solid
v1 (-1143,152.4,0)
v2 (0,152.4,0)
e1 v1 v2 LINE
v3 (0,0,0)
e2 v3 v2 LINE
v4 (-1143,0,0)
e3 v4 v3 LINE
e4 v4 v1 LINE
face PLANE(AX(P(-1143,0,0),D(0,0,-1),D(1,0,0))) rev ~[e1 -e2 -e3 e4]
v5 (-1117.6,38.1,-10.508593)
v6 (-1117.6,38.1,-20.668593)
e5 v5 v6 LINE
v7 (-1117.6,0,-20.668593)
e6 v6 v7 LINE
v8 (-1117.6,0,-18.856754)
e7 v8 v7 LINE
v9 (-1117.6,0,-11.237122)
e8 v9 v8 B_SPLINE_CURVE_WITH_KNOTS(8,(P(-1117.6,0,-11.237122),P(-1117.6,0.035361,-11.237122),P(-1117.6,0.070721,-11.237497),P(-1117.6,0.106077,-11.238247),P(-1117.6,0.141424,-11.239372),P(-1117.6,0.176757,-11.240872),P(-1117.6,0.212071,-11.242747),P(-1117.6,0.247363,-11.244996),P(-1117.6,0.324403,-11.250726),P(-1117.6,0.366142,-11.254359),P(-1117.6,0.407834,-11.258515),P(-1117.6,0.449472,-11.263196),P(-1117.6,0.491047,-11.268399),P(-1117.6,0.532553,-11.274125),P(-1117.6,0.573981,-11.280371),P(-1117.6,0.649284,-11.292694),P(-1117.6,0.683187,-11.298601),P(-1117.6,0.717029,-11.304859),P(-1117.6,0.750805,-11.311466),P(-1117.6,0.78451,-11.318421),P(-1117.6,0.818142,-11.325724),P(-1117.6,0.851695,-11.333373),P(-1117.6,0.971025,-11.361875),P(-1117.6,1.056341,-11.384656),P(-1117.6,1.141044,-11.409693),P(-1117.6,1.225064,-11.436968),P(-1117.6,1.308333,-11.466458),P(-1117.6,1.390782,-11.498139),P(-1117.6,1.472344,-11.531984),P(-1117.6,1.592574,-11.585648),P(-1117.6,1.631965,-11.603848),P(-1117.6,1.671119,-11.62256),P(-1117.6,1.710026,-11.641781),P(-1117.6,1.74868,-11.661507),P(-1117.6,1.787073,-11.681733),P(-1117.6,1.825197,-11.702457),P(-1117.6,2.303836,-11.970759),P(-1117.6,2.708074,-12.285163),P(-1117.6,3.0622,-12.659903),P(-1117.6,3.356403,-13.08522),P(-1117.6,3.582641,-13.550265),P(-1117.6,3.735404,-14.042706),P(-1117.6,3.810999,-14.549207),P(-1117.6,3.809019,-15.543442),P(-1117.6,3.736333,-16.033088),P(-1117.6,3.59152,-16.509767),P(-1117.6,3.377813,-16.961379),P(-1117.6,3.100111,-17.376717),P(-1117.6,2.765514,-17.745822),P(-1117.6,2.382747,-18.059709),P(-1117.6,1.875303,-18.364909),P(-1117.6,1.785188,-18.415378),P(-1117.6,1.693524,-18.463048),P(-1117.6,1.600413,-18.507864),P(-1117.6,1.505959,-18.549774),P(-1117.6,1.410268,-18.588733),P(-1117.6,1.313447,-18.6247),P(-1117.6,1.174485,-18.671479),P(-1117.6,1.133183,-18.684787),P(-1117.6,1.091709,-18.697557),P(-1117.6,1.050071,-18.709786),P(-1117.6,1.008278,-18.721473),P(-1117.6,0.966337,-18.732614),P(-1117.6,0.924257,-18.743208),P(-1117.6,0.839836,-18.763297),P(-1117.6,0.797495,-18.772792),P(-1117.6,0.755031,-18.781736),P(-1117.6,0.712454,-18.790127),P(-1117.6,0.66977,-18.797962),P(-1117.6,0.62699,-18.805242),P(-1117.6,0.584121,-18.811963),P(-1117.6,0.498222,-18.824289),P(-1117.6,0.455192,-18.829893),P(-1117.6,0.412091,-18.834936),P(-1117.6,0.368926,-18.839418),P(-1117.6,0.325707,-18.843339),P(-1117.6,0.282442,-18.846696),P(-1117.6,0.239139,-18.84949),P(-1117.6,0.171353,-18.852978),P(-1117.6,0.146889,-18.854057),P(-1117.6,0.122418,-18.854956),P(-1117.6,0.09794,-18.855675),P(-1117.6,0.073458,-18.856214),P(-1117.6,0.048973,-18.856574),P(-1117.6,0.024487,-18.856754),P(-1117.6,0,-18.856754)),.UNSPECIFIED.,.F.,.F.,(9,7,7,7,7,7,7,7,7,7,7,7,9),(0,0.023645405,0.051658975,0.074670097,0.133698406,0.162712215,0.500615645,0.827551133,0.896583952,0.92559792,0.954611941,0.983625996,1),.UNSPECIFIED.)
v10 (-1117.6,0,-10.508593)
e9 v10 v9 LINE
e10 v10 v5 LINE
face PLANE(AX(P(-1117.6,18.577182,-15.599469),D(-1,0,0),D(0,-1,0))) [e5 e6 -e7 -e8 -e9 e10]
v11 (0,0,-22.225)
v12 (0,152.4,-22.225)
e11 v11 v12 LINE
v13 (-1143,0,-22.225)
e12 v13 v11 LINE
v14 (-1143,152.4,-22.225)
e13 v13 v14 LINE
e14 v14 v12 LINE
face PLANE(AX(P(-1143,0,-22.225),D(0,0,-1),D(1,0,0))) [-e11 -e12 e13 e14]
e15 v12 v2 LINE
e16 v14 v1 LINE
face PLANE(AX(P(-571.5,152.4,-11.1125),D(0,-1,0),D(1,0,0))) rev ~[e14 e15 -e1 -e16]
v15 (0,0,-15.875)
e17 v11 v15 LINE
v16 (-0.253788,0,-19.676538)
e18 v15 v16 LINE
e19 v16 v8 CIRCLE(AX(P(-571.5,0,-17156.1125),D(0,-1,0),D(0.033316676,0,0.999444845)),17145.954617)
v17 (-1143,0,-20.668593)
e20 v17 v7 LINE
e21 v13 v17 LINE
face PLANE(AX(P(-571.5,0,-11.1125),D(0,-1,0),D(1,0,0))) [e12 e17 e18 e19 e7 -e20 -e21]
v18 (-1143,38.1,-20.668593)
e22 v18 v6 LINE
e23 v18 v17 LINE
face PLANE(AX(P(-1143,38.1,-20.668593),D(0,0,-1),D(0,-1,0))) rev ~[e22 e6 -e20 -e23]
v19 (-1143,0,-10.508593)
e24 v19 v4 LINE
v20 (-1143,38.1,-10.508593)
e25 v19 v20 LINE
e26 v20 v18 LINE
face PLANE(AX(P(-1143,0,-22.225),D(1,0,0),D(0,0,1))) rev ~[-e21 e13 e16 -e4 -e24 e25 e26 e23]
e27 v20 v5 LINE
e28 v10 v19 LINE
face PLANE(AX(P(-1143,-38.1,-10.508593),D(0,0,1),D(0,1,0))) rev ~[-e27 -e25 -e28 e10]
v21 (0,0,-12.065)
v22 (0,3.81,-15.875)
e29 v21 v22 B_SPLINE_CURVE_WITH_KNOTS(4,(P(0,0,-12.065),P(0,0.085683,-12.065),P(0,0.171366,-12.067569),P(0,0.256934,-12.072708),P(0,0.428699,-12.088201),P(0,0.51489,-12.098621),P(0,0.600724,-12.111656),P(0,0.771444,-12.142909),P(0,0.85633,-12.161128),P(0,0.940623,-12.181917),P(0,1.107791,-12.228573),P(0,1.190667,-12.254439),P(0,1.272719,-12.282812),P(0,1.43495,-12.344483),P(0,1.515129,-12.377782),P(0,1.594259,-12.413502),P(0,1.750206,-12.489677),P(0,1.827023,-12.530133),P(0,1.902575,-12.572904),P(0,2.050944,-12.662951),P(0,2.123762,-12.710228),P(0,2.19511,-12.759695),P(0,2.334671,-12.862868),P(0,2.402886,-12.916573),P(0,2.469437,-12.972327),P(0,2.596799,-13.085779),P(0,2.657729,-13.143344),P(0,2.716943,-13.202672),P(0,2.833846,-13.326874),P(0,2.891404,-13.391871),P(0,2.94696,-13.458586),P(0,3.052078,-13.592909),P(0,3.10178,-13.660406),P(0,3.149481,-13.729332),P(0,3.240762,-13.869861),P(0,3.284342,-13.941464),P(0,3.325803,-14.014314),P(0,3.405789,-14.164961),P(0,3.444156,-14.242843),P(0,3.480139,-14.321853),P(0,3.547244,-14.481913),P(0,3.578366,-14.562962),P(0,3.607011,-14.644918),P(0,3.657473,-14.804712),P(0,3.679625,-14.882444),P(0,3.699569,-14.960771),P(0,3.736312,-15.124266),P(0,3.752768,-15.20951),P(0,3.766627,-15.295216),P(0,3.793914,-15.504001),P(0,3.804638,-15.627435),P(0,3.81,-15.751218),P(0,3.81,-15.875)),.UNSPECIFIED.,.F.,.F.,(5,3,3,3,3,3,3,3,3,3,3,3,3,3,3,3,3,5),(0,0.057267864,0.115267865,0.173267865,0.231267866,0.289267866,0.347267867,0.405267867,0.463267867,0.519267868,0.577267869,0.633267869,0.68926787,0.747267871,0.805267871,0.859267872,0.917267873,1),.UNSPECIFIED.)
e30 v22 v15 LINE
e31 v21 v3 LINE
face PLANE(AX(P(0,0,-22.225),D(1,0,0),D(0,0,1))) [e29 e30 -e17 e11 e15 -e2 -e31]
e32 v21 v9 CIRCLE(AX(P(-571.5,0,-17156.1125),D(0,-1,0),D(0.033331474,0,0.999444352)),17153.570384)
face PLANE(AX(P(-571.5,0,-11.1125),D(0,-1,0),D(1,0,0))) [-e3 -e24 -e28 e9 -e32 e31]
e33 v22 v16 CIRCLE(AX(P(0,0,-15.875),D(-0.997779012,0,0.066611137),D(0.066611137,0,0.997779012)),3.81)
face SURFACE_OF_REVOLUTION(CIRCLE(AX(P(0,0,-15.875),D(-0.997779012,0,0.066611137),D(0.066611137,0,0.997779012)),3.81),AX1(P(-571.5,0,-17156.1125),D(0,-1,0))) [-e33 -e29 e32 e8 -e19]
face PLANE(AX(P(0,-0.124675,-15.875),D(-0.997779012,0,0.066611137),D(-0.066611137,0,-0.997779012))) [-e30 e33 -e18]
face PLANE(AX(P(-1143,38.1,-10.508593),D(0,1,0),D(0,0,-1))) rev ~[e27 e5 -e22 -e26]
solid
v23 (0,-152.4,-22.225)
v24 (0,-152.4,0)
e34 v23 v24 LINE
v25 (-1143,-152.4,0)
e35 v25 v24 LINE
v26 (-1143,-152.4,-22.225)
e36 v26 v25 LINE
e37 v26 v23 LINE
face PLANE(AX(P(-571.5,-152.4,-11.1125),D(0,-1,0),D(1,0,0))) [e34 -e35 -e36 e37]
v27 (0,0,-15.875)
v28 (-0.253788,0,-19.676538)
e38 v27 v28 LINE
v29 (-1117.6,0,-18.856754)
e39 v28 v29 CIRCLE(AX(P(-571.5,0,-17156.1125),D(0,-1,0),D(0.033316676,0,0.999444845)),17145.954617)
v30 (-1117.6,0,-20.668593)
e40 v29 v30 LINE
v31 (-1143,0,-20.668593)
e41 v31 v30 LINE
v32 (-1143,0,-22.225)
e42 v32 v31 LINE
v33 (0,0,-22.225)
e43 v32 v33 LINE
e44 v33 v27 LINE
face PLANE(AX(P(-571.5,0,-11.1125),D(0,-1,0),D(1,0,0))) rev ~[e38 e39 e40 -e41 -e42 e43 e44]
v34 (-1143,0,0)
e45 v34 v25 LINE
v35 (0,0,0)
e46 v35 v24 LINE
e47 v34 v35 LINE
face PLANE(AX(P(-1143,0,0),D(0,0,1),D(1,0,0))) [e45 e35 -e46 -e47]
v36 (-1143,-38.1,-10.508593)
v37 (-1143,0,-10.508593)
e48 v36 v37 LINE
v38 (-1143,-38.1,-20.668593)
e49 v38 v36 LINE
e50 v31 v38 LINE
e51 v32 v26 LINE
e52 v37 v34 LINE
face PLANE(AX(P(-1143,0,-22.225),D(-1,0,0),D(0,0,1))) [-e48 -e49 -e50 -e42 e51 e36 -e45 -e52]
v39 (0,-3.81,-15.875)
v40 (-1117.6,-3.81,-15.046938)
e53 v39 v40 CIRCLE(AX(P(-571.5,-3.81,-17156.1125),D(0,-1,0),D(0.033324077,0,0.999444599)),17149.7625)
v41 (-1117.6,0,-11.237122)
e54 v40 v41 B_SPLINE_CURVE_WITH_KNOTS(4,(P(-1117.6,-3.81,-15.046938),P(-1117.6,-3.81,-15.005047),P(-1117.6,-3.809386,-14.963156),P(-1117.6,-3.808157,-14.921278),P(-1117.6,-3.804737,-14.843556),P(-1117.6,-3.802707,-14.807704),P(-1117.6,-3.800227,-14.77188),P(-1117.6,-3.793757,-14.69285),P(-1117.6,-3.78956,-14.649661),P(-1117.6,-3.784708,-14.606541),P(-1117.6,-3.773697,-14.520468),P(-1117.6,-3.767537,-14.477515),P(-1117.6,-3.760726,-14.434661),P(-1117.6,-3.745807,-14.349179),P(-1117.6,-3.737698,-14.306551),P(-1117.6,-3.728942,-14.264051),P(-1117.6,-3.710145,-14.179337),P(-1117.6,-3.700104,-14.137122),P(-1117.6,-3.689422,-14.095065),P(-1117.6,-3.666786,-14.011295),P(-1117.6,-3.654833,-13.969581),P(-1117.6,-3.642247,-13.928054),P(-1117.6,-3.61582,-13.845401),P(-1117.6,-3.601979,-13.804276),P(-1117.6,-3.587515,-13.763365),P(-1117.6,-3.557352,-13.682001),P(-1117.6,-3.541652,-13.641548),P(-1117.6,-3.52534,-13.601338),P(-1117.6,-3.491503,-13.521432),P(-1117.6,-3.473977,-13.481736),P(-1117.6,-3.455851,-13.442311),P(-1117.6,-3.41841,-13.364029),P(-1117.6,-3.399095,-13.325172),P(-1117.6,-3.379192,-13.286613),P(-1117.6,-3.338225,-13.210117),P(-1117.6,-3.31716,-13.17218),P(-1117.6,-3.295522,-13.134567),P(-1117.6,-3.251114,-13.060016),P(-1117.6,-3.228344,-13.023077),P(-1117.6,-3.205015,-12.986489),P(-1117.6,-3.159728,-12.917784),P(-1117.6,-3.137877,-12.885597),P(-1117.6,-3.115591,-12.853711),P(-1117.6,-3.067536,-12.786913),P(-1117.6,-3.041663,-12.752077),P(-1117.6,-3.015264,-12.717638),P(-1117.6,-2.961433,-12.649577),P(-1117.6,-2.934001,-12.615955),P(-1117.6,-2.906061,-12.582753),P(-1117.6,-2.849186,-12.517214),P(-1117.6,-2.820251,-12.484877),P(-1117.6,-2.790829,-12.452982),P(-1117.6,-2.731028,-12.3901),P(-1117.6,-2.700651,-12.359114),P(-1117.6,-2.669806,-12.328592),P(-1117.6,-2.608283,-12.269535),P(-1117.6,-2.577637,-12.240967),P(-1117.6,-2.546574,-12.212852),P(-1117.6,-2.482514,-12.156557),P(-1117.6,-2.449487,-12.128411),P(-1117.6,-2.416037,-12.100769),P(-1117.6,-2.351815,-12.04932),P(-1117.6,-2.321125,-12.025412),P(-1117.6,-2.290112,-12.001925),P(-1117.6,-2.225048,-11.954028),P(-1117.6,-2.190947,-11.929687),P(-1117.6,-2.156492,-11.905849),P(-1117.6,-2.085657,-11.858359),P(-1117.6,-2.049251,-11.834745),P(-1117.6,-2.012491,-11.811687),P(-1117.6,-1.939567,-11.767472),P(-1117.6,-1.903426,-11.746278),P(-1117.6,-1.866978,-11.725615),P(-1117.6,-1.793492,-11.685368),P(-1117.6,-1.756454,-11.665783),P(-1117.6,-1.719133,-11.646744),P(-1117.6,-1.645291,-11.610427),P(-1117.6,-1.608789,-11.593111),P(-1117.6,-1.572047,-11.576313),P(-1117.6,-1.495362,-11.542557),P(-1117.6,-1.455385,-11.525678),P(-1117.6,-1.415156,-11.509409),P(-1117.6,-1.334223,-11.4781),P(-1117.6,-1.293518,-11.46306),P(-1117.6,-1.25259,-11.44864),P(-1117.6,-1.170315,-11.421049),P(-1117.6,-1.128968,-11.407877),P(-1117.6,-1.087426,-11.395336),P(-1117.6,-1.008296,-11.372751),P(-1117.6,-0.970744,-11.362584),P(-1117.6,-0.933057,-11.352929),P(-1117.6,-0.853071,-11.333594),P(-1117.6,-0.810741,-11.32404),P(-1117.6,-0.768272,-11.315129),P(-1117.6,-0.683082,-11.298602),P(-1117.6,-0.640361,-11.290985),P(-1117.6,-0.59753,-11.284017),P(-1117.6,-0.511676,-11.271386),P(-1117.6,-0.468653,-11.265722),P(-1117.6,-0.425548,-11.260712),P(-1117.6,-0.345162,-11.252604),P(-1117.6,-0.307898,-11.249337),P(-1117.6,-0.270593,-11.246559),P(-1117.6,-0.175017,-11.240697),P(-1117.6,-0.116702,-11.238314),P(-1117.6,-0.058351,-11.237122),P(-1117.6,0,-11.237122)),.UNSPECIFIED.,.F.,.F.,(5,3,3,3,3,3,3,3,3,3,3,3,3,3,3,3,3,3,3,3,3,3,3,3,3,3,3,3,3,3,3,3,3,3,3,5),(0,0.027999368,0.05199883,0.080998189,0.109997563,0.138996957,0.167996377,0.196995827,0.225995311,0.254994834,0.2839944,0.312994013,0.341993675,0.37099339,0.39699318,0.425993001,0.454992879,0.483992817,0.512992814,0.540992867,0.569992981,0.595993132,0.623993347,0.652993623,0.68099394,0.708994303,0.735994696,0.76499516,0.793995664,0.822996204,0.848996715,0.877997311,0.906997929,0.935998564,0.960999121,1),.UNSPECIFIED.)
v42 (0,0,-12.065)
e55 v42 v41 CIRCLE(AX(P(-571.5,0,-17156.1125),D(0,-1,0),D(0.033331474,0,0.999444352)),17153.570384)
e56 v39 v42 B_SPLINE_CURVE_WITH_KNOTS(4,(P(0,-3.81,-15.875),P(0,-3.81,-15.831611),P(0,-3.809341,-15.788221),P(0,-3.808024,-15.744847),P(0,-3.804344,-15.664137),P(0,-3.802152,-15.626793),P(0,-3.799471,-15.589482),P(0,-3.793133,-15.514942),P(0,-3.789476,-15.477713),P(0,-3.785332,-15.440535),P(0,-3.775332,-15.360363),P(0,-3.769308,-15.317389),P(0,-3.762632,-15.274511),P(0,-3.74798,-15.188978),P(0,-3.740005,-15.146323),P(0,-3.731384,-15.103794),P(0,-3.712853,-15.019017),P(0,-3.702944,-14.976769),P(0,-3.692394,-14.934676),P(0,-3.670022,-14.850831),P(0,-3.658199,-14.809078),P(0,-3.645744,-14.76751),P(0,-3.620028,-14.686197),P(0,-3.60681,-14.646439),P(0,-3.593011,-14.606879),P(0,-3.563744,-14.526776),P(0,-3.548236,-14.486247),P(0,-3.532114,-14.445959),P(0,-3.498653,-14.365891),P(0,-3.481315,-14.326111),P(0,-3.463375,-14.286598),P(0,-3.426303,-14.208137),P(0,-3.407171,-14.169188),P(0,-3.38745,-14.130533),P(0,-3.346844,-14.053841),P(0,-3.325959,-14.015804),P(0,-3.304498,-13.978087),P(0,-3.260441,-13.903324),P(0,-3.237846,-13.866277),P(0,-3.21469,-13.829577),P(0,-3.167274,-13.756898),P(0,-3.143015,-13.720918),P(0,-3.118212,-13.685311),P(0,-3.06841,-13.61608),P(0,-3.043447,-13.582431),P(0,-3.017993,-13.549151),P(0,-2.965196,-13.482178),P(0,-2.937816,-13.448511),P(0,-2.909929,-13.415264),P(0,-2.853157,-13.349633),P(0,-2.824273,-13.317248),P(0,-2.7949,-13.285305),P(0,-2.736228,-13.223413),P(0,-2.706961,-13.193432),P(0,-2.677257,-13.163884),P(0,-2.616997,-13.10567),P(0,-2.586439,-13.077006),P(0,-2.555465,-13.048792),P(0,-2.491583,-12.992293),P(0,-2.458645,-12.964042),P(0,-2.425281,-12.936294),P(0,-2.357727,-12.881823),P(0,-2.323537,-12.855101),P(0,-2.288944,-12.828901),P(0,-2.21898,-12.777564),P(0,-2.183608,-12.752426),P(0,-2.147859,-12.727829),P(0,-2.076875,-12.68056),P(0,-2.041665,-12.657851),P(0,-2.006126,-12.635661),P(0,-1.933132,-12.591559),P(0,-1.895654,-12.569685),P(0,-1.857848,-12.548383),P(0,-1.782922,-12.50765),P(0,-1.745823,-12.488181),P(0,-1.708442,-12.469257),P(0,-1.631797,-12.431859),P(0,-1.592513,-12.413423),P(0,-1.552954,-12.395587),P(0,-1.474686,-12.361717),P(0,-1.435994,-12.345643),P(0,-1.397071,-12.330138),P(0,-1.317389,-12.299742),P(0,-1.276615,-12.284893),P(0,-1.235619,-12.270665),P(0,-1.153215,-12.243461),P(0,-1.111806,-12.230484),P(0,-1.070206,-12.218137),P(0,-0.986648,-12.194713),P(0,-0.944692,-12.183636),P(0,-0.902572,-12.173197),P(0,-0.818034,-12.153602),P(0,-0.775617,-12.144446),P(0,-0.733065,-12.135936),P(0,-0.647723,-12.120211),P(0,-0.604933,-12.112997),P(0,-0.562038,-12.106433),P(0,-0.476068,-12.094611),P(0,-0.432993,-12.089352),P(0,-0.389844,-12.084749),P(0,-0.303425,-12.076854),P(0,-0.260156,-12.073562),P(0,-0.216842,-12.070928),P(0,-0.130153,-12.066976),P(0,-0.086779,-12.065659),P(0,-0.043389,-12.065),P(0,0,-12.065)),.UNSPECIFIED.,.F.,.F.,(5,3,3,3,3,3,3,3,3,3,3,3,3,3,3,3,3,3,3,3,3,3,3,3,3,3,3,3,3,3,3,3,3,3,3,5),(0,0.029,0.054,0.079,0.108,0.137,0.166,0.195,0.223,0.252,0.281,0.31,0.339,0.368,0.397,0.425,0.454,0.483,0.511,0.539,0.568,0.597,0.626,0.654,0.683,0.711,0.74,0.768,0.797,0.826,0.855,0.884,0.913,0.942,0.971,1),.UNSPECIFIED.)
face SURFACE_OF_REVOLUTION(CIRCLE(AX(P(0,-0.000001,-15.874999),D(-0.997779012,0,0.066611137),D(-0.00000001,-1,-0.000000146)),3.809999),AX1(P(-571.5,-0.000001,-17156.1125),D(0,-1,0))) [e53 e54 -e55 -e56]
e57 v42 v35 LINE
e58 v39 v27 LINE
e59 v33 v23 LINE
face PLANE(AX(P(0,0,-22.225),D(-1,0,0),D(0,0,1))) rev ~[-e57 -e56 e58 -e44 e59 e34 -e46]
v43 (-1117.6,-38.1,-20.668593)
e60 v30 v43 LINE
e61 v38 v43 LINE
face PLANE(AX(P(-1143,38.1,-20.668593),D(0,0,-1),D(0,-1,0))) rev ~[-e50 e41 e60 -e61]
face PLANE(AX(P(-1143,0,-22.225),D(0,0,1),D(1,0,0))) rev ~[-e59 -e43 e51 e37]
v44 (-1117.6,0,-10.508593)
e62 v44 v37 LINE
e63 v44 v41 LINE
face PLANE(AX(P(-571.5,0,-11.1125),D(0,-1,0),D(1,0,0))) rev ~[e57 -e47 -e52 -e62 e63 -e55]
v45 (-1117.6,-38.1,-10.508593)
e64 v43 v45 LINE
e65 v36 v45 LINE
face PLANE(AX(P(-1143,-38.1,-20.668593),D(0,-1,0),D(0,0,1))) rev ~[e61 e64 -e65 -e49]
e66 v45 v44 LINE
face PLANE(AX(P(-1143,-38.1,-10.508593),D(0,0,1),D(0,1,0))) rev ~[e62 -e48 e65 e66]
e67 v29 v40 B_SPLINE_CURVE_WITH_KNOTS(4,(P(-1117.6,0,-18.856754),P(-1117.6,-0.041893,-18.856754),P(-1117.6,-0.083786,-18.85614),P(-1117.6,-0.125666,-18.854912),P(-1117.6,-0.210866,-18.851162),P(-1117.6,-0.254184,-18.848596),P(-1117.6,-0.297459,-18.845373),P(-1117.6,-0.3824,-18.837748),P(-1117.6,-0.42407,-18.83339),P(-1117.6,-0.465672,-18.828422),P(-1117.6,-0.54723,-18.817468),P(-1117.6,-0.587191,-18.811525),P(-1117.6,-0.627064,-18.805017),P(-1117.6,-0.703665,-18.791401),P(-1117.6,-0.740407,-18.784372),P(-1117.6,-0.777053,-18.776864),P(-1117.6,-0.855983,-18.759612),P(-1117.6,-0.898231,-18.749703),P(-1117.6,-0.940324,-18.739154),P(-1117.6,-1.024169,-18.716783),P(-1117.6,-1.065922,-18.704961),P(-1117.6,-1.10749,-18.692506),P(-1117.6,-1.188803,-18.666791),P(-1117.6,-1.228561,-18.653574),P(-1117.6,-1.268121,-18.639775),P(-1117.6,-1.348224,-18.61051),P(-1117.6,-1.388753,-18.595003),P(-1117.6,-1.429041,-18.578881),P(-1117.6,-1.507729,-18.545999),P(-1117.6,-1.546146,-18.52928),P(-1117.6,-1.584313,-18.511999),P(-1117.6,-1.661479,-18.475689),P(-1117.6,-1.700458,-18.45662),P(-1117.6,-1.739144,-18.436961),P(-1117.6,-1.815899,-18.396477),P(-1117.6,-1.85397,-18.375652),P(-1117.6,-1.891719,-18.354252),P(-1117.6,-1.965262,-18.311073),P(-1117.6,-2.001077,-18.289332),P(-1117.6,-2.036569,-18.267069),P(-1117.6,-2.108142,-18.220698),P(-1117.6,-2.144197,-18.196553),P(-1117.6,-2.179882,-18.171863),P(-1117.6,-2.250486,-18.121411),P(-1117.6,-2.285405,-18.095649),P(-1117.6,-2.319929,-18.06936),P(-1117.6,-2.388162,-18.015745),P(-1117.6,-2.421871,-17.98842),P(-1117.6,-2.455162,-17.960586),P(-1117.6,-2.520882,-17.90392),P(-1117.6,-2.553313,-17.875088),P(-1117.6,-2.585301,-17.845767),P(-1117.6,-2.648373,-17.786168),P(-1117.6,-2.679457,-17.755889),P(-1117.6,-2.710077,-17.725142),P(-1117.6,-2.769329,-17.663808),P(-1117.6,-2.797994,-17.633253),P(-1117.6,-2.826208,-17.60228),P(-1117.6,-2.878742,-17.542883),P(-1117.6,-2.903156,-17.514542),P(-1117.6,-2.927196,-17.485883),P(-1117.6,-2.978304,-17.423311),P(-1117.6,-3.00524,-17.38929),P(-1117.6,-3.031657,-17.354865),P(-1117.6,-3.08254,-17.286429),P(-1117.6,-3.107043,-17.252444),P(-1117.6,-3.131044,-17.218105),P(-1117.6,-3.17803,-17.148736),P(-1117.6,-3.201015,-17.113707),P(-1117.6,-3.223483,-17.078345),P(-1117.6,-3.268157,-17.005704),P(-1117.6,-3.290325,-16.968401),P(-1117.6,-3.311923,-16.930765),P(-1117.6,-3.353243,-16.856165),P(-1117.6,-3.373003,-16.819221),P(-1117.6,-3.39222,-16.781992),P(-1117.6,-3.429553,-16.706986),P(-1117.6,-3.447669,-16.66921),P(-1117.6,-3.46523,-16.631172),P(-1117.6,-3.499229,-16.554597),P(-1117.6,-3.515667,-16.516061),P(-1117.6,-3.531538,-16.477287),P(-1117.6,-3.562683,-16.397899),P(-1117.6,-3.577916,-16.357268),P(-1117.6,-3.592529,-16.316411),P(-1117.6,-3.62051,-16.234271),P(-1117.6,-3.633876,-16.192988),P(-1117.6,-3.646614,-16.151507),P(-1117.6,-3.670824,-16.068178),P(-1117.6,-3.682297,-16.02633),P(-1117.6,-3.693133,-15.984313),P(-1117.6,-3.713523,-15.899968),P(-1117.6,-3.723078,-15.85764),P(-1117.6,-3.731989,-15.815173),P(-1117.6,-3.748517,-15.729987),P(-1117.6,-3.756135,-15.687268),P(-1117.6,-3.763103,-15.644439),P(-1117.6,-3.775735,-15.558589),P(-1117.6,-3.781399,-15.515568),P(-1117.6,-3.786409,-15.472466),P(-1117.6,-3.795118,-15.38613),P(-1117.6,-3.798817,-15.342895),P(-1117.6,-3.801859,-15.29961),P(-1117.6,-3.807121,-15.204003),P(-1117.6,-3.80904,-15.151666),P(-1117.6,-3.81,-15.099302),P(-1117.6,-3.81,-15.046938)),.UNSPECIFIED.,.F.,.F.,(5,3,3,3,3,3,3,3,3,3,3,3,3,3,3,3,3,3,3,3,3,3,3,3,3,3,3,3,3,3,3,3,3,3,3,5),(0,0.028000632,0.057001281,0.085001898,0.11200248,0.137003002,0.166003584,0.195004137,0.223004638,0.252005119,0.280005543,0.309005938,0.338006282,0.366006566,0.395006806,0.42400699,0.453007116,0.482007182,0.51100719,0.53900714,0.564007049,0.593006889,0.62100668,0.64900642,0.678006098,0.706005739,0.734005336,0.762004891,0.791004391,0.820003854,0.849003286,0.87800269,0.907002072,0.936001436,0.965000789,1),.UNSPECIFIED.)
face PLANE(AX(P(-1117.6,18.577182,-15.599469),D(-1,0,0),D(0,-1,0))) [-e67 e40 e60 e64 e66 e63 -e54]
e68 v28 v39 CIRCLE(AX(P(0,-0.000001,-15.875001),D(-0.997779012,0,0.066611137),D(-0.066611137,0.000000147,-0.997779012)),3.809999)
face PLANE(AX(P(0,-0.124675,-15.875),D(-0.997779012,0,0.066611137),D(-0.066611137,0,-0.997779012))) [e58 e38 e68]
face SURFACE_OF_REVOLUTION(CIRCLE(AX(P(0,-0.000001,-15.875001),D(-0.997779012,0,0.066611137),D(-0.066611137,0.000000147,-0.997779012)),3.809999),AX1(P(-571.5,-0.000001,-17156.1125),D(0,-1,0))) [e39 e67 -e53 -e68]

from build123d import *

# Parameters (mm, degrees)
F0_W      = 1143
F0_H      = 22.225
F1_DEPTH  = 152.4
F1_FACE_W = 1143
F1_FACE_H = 22.225
F2_DEPTH  = 152.4
F6_DEPTH  = 25.4


with BuildPart() as f1:
    # F0 (on Front) → F1 (new body)
    with BuildSketch(Plane.XZ):
        with Locations((-571.5, -11.1125)):
            Rectangle(F0_W, F0_H)
    extrude(amount=-F1_DEPTH)


with BuildPart() as f2:
    # F1_face (on face) → F2 (new body)
    with BuildSketch(Plane(origin=(-571.5, 0, -11.1125), x_dir=(1, 0, 0), z_dir=(0, -1, 0))):
        Rectangle(F1_FACE_W, F1_FACE_H)
    extrude(amount=F2_DEPTH)


with BuildPart() as f5_tool:
    # F5: sweep along a path in F3
    with BuildLine(Plane.XZ) as f5_path:
        ThreePointArc((0, -15.875), (-571.5, -6.35), (-1143, -15.875))
    # F4 (on face) → F5 (sweep)
    with BuildSketch(Plane(origin=(-1143, 0, 0), x_dir=(0, -1, 0), z_dir=(-1, 0, 0))):
        with BuildLine():
            Line((0, -19.685), (0, -12.065))
            ThreePointArc((0, -12.065), (-3.81, -15.875), (0, -19.685))
        make_face()
        with BuildLine():
            ThreePointArc((0, -19.685), (2.694077, -18.569077), (3.81, -15.875))
            ThreePointArc((3.81, -15.875), (2.694077, -13.180923), (0, -12.065))
            Line((0, -12.065), (0, -19.685))
        make_face()
    sweep(path=f5_path.line)


with BuildPart() as f1_1:
    add(f1.part)

    # F5: cut by f5_tool
    add(f5_tool.part, mode=Mode.SUBTRACT)


with BuildPart() as f2_1:
    add(f2.part)

    # F5: cut by f5_tool
    add(f5_tool.part, mode=Mode.SUBTRACT)


with BuildPart() as f6_tool:
    # F4 (on face) → F6 (new body)
    with BuildSketch(Plane(origin=(-1143, 0, 0), x_dir=(0, -1, 0), z_dir=(-1, 0, 0))):
        with BuildLine():
            ThreePointArc((0, -19.685), (-3.81, -15.875), (0, -12.065))
            Line((0, -12.065), (0, -10.508593))
            Line((0, -10.508593), (-38.1, -10.508593))
            Line((-38.1, -10.508593), (-38.1, -20.668593))
            Line((-38.1, -20.668593), (0, -20.668593))
            Line((0, -20.668593), (0, -19.685))
        make_face()
        with BuildLine():
            ThreePointArc((0, -12.065), (2.694077, -13.180923), (3.81, -15.875))
            ThreePointArc((3.81, -15.875), (2.694077, -18.569077), (0, -19.685))
            Line((0, -19.685), (0, -20.668593))
            Line((0, -20.668593), (38.1, -20.668593))
            Line((38.1, -20.668593), (38.1, -10.508593))
            Line((38.1, -10.508593), (0, -10.508593))
            Line((0, -10.508593), (0, -12.065))
        make_face()
        with BuildLine():
            ThreePointArc((0, -19.685), (2.694077, -18.569077), (3.81, -15.875))
            ThreePointArc((3.81, -15.875), (2.694077, -13.180923), (0, -12.065))
            Line((0, -12.065), (0, -19.685))
        make_face()
        with BuildLine():
            Line((0, -19.685), (0, -12.065))
            ThreePointArc((0, -12.065), (-3.81, -15.875), (0, -19.685))
        make_face()
    extrude(amount=-F6_DEPTH)


with BuildPart() as f1_2:
    add(f1_1.part)

    # F6: cut by f6_tool
    add(f6_tool.part, mode=Mode.SUBTRACT)


with BuildPart() as f2_2:
    add(f2_1.part)

    # F6: cut by f6_tool
    add(f6_tool.part, mode=Mode.SUBTRACT)


solid = Compound([f1_2.part, f2_2.part])
